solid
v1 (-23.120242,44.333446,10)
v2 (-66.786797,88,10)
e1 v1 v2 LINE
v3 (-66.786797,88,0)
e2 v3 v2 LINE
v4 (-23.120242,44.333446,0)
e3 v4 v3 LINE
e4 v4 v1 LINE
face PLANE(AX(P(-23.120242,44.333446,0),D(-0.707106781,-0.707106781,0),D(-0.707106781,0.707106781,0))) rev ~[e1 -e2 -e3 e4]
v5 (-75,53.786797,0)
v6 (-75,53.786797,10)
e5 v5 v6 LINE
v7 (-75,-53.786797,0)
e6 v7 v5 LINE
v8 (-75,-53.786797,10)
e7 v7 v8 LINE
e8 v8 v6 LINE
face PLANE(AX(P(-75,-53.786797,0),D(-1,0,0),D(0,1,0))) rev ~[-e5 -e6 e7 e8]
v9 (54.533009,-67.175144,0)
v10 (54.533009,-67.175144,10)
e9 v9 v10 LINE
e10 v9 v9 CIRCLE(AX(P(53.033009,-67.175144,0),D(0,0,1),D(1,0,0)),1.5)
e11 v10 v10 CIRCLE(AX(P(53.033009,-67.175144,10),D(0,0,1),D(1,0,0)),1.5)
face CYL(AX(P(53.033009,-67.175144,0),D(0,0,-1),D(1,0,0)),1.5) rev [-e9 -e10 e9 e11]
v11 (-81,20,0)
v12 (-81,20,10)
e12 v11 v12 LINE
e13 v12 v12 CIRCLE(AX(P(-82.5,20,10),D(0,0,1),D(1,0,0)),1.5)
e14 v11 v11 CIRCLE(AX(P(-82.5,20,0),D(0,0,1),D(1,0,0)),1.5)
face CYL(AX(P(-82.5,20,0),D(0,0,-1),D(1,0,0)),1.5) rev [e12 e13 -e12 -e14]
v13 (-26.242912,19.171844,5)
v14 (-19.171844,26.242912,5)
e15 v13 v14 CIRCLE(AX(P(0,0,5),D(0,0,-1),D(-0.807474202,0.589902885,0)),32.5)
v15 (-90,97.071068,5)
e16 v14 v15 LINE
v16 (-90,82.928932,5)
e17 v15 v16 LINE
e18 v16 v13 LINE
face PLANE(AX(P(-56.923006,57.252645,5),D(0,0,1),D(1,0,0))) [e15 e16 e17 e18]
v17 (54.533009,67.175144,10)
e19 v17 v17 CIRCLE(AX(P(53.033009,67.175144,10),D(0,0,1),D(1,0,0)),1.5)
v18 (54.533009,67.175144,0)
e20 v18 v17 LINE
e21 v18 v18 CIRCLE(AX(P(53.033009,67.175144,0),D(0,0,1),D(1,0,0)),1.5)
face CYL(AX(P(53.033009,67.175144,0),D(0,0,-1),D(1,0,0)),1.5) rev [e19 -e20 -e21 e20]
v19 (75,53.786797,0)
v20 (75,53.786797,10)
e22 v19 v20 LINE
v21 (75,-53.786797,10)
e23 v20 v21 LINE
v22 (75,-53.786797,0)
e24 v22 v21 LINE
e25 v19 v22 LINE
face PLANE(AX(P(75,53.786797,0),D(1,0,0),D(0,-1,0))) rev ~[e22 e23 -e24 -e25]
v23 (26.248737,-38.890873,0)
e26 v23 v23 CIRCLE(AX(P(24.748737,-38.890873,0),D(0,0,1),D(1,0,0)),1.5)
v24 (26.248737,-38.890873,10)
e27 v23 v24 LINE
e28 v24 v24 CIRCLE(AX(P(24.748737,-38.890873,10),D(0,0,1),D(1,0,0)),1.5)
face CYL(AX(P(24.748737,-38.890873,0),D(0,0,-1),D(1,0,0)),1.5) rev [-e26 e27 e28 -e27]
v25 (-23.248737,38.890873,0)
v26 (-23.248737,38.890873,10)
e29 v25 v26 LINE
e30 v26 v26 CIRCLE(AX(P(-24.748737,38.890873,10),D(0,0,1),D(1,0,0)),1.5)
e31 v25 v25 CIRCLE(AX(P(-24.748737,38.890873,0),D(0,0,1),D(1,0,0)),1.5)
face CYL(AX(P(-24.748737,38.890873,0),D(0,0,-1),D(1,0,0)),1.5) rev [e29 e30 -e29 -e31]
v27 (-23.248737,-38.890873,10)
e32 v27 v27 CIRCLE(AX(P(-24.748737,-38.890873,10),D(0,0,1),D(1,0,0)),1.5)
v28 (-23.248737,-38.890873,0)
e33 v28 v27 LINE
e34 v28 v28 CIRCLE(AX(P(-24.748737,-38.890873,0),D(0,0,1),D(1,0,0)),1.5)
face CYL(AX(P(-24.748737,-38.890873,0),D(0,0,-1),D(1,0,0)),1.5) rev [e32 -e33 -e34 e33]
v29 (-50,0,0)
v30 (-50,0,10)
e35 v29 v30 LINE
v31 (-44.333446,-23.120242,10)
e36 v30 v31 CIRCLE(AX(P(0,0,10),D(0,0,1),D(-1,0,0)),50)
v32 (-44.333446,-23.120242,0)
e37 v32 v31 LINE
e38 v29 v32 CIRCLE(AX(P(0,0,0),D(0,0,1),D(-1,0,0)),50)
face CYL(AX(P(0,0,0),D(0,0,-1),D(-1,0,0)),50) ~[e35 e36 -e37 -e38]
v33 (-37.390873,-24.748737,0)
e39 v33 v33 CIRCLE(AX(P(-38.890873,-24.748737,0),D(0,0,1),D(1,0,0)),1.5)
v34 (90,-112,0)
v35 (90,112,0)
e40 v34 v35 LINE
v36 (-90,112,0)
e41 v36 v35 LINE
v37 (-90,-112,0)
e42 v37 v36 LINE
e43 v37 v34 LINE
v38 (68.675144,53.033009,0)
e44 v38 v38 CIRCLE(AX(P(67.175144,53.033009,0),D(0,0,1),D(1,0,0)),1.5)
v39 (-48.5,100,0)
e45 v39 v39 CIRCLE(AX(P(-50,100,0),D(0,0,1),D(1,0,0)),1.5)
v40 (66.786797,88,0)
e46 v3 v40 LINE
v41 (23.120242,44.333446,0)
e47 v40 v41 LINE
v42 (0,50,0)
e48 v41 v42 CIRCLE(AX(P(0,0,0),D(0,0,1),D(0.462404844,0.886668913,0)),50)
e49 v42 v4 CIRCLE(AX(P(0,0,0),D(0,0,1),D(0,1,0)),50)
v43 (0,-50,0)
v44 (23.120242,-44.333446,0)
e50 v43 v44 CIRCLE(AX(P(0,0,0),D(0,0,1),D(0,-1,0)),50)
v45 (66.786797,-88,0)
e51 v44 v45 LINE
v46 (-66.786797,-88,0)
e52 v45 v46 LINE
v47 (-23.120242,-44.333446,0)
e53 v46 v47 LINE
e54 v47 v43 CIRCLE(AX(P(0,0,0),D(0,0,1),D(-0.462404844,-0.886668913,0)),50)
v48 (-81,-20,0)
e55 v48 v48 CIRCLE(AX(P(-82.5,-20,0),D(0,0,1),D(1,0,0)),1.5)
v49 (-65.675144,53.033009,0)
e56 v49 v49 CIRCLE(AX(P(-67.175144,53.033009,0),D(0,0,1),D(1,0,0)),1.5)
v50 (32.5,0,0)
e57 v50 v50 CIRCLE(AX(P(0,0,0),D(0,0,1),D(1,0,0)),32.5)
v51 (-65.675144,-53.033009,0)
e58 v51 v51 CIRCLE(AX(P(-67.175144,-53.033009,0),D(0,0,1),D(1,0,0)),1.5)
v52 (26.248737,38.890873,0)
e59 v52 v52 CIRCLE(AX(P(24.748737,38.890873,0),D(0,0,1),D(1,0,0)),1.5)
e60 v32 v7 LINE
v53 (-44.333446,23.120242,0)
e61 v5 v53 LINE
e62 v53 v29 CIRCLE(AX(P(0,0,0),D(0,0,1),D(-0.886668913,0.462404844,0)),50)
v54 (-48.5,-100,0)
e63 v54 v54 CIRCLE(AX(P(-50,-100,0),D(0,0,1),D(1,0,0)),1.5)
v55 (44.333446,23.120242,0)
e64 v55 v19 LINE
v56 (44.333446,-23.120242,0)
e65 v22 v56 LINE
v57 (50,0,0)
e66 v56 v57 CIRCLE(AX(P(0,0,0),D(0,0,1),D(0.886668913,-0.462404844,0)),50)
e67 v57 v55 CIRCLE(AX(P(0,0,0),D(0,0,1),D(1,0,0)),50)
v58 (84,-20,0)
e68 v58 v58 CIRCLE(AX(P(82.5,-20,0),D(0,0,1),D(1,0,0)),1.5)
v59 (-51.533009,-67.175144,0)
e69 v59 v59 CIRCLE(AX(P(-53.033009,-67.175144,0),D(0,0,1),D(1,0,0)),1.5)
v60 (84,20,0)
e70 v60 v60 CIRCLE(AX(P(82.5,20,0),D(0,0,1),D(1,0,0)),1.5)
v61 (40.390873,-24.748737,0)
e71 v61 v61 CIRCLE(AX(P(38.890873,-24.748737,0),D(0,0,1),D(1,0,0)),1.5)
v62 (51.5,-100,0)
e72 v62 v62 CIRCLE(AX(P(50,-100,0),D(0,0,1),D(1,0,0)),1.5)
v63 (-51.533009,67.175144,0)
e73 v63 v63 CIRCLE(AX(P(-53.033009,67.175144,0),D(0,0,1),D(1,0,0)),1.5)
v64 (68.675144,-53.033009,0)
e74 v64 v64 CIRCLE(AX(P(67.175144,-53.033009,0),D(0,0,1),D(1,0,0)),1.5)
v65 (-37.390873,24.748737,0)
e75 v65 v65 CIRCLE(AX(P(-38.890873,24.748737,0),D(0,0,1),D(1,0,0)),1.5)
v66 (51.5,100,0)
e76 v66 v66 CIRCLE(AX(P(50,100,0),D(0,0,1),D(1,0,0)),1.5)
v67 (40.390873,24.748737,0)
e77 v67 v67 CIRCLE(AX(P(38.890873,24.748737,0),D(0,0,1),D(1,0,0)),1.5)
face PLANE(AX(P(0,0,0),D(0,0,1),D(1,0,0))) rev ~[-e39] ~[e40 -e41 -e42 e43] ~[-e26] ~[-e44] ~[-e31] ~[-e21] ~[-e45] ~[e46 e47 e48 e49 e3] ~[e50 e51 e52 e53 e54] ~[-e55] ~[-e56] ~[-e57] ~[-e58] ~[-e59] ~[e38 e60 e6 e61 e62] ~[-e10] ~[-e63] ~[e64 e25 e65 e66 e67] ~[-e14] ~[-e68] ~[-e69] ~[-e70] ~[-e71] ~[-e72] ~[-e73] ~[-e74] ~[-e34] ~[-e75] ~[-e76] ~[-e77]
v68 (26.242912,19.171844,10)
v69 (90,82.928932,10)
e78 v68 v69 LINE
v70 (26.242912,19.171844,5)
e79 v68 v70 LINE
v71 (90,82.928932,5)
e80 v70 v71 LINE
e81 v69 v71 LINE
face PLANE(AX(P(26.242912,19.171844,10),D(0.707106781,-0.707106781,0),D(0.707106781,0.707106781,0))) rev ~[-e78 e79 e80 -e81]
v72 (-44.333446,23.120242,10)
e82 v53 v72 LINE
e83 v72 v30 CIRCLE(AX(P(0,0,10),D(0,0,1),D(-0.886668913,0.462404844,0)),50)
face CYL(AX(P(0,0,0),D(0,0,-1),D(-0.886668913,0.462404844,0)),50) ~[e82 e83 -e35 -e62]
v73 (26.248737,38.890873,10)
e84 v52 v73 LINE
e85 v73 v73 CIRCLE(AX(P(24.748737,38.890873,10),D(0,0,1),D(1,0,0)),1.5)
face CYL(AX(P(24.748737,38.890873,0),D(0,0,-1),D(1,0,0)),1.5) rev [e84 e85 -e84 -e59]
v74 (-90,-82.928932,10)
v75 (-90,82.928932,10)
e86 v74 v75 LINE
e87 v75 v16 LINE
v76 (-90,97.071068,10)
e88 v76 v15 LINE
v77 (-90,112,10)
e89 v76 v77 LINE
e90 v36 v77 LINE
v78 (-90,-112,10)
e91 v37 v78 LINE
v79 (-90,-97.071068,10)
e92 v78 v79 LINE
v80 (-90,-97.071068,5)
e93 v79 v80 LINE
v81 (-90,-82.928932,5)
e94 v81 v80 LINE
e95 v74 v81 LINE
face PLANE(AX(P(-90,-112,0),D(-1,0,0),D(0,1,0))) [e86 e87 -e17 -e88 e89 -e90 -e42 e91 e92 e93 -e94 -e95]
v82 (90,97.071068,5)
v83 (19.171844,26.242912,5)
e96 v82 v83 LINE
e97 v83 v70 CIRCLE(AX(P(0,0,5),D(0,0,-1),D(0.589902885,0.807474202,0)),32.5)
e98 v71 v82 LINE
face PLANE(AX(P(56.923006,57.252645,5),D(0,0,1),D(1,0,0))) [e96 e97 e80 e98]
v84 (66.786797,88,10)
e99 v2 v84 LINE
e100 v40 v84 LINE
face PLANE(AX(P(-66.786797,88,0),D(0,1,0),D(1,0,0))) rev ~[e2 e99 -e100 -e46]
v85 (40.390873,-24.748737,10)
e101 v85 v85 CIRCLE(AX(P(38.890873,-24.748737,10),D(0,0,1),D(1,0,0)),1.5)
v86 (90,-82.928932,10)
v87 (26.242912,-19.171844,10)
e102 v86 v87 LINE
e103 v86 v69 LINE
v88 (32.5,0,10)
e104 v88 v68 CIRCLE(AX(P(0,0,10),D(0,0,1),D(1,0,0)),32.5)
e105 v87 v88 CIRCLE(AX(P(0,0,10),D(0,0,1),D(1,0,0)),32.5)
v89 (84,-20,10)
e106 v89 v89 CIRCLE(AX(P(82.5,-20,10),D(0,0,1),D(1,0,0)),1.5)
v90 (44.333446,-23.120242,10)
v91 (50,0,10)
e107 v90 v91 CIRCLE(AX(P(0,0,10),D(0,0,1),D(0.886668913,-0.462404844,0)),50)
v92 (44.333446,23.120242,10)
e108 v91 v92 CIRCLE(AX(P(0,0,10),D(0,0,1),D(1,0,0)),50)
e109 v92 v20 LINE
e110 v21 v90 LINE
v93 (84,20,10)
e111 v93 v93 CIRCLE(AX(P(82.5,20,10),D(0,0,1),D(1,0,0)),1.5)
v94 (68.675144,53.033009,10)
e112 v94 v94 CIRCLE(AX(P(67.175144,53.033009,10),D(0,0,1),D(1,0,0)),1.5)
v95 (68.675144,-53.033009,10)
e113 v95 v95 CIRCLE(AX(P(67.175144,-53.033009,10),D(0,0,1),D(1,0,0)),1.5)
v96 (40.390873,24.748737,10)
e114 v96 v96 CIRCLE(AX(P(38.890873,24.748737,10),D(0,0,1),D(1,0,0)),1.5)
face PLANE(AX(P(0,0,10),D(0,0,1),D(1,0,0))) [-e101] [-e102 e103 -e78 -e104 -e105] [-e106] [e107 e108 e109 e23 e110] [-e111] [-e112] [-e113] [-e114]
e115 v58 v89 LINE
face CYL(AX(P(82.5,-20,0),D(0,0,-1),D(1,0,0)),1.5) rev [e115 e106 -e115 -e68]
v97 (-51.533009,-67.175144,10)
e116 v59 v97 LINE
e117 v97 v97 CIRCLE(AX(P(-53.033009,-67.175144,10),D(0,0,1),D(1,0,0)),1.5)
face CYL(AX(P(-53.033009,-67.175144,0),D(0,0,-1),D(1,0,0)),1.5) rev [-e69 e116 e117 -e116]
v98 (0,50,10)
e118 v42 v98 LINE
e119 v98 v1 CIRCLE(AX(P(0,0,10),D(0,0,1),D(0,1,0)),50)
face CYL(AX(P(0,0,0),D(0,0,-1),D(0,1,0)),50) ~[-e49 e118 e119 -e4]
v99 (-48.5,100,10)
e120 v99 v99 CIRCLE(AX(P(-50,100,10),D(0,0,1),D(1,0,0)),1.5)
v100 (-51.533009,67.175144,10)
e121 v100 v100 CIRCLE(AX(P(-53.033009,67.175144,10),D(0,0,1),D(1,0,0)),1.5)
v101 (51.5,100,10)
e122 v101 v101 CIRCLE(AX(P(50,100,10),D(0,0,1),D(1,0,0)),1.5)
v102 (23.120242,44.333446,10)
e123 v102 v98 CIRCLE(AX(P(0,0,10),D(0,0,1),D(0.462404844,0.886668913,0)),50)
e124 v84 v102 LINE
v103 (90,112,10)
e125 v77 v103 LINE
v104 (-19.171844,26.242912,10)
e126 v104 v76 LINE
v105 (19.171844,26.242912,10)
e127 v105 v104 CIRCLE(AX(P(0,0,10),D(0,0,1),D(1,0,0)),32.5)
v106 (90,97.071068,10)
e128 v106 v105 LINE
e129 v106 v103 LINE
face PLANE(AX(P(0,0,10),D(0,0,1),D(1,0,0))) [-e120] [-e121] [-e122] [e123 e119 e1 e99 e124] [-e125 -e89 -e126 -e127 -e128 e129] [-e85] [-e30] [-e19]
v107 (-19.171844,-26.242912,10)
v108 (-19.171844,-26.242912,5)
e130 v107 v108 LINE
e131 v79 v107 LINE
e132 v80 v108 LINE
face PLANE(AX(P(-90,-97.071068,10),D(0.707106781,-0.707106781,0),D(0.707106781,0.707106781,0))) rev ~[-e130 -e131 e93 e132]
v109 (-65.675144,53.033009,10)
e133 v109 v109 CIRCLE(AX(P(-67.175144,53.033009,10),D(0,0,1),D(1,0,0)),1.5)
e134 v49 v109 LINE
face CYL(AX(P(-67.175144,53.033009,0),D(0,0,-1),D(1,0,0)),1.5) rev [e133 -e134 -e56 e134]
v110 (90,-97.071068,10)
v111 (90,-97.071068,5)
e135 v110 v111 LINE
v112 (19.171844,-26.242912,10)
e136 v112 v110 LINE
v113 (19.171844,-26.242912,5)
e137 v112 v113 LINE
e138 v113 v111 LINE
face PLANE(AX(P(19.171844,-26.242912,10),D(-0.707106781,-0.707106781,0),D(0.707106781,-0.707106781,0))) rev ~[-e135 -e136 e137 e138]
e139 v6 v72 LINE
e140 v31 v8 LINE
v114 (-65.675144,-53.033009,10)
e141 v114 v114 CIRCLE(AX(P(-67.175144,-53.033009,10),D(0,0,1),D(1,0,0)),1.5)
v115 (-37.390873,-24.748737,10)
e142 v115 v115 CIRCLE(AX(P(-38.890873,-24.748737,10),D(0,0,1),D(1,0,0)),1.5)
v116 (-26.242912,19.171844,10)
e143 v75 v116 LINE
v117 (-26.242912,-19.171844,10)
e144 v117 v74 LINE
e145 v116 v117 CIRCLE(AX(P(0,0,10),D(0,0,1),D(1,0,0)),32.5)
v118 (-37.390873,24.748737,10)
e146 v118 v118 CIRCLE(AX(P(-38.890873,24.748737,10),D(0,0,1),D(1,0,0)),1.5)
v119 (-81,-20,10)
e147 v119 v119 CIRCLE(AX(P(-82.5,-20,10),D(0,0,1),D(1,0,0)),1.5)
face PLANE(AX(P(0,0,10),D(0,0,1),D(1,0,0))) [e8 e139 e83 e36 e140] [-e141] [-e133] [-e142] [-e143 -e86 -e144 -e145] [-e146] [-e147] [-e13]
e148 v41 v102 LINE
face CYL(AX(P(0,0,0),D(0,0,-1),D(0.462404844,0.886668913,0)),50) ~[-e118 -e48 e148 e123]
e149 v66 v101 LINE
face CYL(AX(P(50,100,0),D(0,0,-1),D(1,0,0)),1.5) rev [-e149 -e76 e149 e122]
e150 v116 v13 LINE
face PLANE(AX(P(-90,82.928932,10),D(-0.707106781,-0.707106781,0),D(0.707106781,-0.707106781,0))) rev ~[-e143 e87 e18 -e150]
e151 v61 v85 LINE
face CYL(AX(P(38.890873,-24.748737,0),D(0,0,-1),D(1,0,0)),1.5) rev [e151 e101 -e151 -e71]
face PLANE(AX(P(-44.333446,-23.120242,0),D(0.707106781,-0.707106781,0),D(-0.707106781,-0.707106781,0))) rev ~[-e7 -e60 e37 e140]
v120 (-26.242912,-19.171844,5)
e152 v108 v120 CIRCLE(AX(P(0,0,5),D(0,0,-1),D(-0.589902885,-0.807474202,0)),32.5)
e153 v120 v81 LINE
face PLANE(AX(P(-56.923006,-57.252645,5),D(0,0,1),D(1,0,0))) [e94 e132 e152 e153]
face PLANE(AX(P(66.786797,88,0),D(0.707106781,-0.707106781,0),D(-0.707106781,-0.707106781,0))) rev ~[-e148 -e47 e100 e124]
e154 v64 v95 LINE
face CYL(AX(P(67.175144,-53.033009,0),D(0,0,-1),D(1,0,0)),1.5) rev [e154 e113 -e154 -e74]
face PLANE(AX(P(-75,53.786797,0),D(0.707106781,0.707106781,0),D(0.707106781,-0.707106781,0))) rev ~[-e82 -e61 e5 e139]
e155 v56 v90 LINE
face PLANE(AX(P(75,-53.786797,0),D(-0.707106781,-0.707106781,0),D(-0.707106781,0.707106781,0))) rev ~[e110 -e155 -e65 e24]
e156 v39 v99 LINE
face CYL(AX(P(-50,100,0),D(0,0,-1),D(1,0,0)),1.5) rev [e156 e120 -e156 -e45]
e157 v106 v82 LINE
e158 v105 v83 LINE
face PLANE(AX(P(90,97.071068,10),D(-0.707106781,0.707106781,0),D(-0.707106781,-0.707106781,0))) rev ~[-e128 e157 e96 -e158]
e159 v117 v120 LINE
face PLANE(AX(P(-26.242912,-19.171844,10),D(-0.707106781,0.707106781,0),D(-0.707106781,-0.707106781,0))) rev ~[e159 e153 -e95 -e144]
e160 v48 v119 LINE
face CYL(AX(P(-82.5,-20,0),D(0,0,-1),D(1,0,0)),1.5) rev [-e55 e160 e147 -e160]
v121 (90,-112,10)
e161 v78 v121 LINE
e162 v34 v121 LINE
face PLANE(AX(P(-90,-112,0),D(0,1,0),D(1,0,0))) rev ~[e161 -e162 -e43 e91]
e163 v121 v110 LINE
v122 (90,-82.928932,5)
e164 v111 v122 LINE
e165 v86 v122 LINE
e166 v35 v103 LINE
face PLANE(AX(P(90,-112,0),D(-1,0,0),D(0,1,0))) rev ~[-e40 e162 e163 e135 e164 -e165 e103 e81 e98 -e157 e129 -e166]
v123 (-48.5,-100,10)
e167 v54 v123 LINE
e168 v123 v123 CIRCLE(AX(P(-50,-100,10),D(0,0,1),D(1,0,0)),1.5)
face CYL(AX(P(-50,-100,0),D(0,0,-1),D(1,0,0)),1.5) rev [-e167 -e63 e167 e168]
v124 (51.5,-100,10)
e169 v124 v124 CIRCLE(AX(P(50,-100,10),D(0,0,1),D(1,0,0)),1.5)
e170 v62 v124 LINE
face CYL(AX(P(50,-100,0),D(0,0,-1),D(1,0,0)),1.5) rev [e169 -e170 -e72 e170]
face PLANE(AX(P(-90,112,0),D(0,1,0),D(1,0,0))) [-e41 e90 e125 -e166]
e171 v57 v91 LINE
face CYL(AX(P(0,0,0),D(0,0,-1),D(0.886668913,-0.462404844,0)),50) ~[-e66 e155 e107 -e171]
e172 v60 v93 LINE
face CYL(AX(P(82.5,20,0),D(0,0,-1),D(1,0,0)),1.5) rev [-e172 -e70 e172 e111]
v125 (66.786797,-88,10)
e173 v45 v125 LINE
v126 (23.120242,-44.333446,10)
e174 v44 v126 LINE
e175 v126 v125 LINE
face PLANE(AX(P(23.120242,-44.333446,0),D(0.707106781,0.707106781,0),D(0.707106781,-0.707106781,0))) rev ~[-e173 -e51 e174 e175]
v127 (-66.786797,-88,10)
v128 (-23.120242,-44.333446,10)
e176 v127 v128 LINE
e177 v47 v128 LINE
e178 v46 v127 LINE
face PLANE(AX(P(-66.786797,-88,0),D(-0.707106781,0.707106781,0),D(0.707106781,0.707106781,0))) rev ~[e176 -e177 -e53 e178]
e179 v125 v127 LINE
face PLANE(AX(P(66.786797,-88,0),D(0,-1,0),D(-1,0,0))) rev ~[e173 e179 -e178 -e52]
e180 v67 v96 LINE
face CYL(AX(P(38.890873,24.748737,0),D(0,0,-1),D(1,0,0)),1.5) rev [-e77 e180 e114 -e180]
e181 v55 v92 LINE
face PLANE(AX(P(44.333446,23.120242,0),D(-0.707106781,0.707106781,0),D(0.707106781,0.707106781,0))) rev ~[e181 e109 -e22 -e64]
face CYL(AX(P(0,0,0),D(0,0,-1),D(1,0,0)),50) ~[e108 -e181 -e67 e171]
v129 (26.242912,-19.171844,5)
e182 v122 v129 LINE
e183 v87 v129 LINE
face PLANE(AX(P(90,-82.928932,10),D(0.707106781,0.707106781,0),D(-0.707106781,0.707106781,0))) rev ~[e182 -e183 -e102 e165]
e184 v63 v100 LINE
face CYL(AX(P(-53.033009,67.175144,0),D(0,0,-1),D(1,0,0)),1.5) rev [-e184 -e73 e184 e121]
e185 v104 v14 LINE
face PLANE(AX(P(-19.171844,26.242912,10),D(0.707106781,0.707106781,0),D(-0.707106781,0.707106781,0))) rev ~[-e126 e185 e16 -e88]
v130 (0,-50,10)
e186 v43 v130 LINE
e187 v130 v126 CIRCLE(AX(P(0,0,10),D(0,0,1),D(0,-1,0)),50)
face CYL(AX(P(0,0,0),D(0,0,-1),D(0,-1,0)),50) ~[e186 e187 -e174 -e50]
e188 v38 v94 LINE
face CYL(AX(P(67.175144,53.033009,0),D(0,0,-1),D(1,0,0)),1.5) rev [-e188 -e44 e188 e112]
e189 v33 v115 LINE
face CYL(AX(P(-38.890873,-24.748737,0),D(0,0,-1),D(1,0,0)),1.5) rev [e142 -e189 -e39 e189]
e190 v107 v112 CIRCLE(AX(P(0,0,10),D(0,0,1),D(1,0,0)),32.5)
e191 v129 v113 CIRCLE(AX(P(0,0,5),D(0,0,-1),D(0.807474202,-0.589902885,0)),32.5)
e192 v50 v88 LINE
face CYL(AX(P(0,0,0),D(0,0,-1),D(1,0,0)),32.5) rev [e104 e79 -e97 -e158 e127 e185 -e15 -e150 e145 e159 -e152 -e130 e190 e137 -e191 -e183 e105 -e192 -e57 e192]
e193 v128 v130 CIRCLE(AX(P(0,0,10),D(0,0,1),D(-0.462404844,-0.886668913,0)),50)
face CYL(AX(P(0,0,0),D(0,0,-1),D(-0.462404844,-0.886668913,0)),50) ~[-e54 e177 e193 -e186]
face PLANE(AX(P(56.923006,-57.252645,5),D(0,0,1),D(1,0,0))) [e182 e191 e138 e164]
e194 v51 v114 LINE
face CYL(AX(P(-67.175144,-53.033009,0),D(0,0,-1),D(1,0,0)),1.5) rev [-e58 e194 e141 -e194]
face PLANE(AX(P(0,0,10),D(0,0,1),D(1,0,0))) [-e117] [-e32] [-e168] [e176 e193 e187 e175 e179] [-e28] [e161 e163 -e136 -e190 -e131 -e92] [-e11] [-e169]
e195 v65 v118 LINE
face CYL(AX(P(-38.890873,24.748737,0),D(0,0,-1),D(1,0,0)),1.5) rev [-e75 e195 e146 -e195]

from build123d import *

# Parameters (mm, degrees)
F0_W     = 180
F0_H     = 224
F0_R     = 1.5
F0_R_2   = 32.5
F1_DEPTH = 10
F3_DEPTH = 5


with BuildPart() as f1:
    # F0 (on Top) → F1 (new body)
    with BuildSketch(Plane.XY):
        Rectangle(F0_W, F0_H)
        with Locations((-50, -100)):
            Circle(F0_R, mode=Mode.SUBTRACT)
        with Locations((-82.5, -20)):
            Circle(F0_R, mode=Mode.SUBTRACT)
        with Locations((50, -100)):
            Circle(F0_R, mode=Mode.SUBTRACT)
        with Locations((82.5, -20)):
            Circle(F0_R, mode=Mode.SUBTRACT)
        with Locations((-82.5, 20)):
            Circle(F0_R, mode=Mode.SUBTRACT)
        with Locations((-50, 100)):
            Circle(F0_R, mode=Mode.SUBTRACT)
        Polygon((75, -53.7867965644), (75, -75), (75, -88), (66.7867965644, -88), (-66.7867965644, -88), (-75, -88), (-75, -75), (-75, -53.7867965644), (-75, 53.7867965644), (-75, 75), (-75, 88), (-66.7867965644, 88), (66.7867965644, 88), (75, 88), (75, 75), (75, 53.7867965644), align=None, mode=Mode.SUBTRACT)
        with Locations((82.5, 20)):
            Circle(F0_R, mode=Mode.SUBTRACT)
        with Locations((50, 100)):
            Circle(F0_R, mode=Mode.SUBTRACT)
        with BuildLine():
            Line((-53.7867965644, 75), (-66.7867965644, 88))
            Line((-66.7867965644, 88), (-75, 88))
            Line((-75, 88), (-75, 75))
            Line((-75, 75), (-75, 53.7867965644))
            Line((-75, 53.7867965644), (-44.3334456259, 23.1202421903))
            ThreePointArc((-44.3334456259, 23.1202421903), (-35.3553390593, 35.3553390593), (-23.1202421903, 44.3334456259))
            Line((-23.1202421903, 44.3334456259), (-53.7867965644, 75))
        make_face()
        with Locations((-67.1751442127, 53.033008589)):
            Circle(F0_R, mode=Mode.SUBTRACT)
        with Locations((-53.033008589, 67.1751442127)):
            Circle(F0_R, mode=Mode.SUBTRACT)
        with BuildLine():
            ThreePointArc((23.1202421903, -44.3334456259), (35.3553390593, -35.3553390593), (44.3334456259, -23.1202421903))
            ThreePointArc((44.3334456259, -23.1202421903), (48.5627031851, -11.9022627829), (50, 0))
            ThreePointArc((50, 0), (48.5627031851, 11.9022627829), (44.3334456259, 23.1202421903))
            ThreePointArc((44.3334456259, 23.1202421903), (40.3112887415, 29.5803989155), (35.3553390593, 35.3553390593))
            ThreePointArc((35.3553390593, 35.3553390593), (29.5803989155, 40.3112887415), (23.1202421903, 44.3334456259))
            ThreePointArc((23.1202421903, 44.3334456259), (11.9022627829, 48.5627031851), (0, 50))
            ThreePointArc((0, 50), (-11.9022627829, 48.5627031851), (-23.1202421903, 44.3334456259))
            ThreePointArc((-23.1202421903, 44.3334456259), (-35.3553390593, 35.3553390593), (-44.3334456259, 23.1202421903))
            ThreePointArc((-44.3334456259, 23.1202421903), (-48.5627031851, 11.9022627829), (-50, 0))
            ThreePointArc((-50, 0), (-48.5627031851, -11.9022627829), (-44.3334456259, -23.1202421903))
            ThreePointArc((-44.3334456259, -23.1202421903), (-35.3553390593, -35.3553390593), (-23.1202421903, -44.3334456259))
            ThreePointArc((-23.1202421903, -44.3334456259), (-11.9022627829, -48.5627031851), (0, -50))
            ThreePointArc((0, -50), (11.9022627829, -48.5627031851), (23.1202421903, -44.3334456259))
        make_face()
        with Locations((-24.7487373415, -38.8908729653)):
            Circle(F0_R, mode=Mode.SUBTRACT)
        with Locations((-38.8908729653, -24.7487373415)):
            Circle(F0_R, mode=Mode.SUBTRACT)
        with Locations((24.7487373415, -38.8908729653)):
            Circle(F0_R, mode=Mode.SUBTRACT)
        with Locations((38.8908729653, -24.7487373415)):
            Circle(F0_R, mode=Mode.SUBTRACT)
        with Locations((-38.8908729653, 24.7487373415)):
            Circle(F0_R, mode=Mode.SUBTRACT)
        with Locations((-24.7487373415, 38.8908729653)):
            Circle(F0_R, mode=Mode.SUBTRACT)
        Circle(F0_R_2, mode=Mode.SUBTRACT)
        with Locations((38.8908729653, 24.7487373415)):
            Circle(F0_R, mode=Mode.SUBTRACT)
        with Locations((24.7487373415, 38.8908729653)):
            Circle(F0_R, mode=Mode.SUBTRACT)
        with BuildLine():
            Line((44.3334456259, 23.1202421903), (75, 53.7867965644))
            Line((75, 53.7867965644), (75, 75))
            Line((75, 75), (75, 88))
            Line((75, 88), (66.7867965644, 88))
            Line((66.7867965644, 88), (53.7867965644, 75))
            Line((53.7867965644, 75), (23.1202421903, 44.3334456259))
            ThreePointArc((23.1202421903, 44.3334456259), (29.5803989155, 40.3112887415), (35.3553390593, 35.3553390593))
            ThreePointArc((35.3553390593, 35.3553390593), (40.3112887415, 29.5803989155), (44.3334456259, 23.1202421903))
        make_face()
        with Locations((67.1751442127, 53.033008589)):
            Circle(F0_R, mode=Mode.SUBTRACT)
        with Locations((53.033008589, 67.1751442127)):
            Circle(F0_R, mode=Mode.SUBTRACT)
        with BuildLine():
            Line((75, -88), (75, -75))
            Line((75, -75), (75, -53.7867965644))
            Line((75, -53.7867965644), (44.3334456259, -23.1202421903))
            ThreePointArc((44.3334456259, -23.1202421903), (35.3553390593, -35.3553390593), (23.1202421903, -44.3334456259))
            Line((23.1202421903, -44.3334456259), (53.7867965644, -75))
            Line((53.7867965644, -75), (66.7867965644, -88))
            Line((66.7867965644, -88), (75, -88))
        make_face()
        with Locations((53.033008589, -67.1751442127)):
            Circle(F0_R, mode=Mode.SUBTRACT)
        with Locations((67.1751442127, -53.033008589)):
            Circle(F0_R, mode=Mode.SUBTRACT)
        with BuildLine():
            Line((-75, -88), (-66.7867965644, -88))
            Line((-66.7867965644, -88), (-23.1202421903, -44.3334456259))
            ThreePointArc((-23.1202421903, -44.3334456259), (-35.3553390593, -35.3553390593), (-44.3334456259, -23.1202421903))
            Line((-44.3334456259, -23.1202421903), (-75, -53.7867965644))
            Line((-75, -53.7867965644), (-75, -75))
            Line((-75, -75), (-75, -88))
        make_face()
        with Locations((-53.033008589, -67.1751442127)):
            Circle(F0_R, mode=Mode.SUBTRACT)
        with Locations((-67.1751442127, -53.033008589)):
            Circle(F0_R, mode=Mode.SUBTRACT)
    extrude(amount=F1_DEPTH)

    # F2 (on face) → F3 (cut)
    with BuildSketch(Plane.XY.offset(10)):
        with BuildLine():
            Line((-90, 97.0710678119), (-90, 82.9289321881))
            Line((-90, 82.9289321881), (-26.2429115617, 19.1718437498))
            ThreePointArc((-26.2429115617, 19.1718437498), (-22.9809703886, 22.9809703886), (-19.1718437498, 26.2429115617))
            Line((-19.1718437498, 26.2429115617), (-90, 97.0710678119))
        make_face()
        with BuildLine():
            Line((90, 97.0710678119), (19.1718437498, 26.2429115617))
            ThreePointArc((19.1718437498, 26.2429115617), (22.9809703886, 22.9809703886), (26.2429115617, 19.1718437498))
            Line((26.2429115617, 19.1718437498), (90, 82.9289321881))
            Line((90, 82.9289321881), (90, 97.0710678119))
        make_face()
        with BuildLine():
            ThreePointArc((26.2429115617, -19.1718437498), (22.9809703886, -22.9809703886), (19.1718437498, -26.2429115617))
            Line((19.1718437498, -26.2429115617), (90, -97.0710678119))
            Line((90, -97.0710678119), (90, -82.9289321881))
            Line((90, -82.9289321881), (26.2429115617, -19.1718437498))
        make_face()
        with BuildLine():
            Line((-26.2429115617, -19.1718437498), (-90, -82.9289321881))
            Line((-90, -82.9289321881), (-90, -97.0710678119))
            Line((-90, -97.0710678119), (-19.1718437498, -26.2429115617))
            ThreePointArc((-19.1718437498, -26.2429115617), (-22.9809703886, -22.9809703886), (-26.2429115617, -19.1718437498))
        make_face()
    extrude(amount=-F3_DEPTH, mode=Mode.SUBTRACT)


solid = f1.part
